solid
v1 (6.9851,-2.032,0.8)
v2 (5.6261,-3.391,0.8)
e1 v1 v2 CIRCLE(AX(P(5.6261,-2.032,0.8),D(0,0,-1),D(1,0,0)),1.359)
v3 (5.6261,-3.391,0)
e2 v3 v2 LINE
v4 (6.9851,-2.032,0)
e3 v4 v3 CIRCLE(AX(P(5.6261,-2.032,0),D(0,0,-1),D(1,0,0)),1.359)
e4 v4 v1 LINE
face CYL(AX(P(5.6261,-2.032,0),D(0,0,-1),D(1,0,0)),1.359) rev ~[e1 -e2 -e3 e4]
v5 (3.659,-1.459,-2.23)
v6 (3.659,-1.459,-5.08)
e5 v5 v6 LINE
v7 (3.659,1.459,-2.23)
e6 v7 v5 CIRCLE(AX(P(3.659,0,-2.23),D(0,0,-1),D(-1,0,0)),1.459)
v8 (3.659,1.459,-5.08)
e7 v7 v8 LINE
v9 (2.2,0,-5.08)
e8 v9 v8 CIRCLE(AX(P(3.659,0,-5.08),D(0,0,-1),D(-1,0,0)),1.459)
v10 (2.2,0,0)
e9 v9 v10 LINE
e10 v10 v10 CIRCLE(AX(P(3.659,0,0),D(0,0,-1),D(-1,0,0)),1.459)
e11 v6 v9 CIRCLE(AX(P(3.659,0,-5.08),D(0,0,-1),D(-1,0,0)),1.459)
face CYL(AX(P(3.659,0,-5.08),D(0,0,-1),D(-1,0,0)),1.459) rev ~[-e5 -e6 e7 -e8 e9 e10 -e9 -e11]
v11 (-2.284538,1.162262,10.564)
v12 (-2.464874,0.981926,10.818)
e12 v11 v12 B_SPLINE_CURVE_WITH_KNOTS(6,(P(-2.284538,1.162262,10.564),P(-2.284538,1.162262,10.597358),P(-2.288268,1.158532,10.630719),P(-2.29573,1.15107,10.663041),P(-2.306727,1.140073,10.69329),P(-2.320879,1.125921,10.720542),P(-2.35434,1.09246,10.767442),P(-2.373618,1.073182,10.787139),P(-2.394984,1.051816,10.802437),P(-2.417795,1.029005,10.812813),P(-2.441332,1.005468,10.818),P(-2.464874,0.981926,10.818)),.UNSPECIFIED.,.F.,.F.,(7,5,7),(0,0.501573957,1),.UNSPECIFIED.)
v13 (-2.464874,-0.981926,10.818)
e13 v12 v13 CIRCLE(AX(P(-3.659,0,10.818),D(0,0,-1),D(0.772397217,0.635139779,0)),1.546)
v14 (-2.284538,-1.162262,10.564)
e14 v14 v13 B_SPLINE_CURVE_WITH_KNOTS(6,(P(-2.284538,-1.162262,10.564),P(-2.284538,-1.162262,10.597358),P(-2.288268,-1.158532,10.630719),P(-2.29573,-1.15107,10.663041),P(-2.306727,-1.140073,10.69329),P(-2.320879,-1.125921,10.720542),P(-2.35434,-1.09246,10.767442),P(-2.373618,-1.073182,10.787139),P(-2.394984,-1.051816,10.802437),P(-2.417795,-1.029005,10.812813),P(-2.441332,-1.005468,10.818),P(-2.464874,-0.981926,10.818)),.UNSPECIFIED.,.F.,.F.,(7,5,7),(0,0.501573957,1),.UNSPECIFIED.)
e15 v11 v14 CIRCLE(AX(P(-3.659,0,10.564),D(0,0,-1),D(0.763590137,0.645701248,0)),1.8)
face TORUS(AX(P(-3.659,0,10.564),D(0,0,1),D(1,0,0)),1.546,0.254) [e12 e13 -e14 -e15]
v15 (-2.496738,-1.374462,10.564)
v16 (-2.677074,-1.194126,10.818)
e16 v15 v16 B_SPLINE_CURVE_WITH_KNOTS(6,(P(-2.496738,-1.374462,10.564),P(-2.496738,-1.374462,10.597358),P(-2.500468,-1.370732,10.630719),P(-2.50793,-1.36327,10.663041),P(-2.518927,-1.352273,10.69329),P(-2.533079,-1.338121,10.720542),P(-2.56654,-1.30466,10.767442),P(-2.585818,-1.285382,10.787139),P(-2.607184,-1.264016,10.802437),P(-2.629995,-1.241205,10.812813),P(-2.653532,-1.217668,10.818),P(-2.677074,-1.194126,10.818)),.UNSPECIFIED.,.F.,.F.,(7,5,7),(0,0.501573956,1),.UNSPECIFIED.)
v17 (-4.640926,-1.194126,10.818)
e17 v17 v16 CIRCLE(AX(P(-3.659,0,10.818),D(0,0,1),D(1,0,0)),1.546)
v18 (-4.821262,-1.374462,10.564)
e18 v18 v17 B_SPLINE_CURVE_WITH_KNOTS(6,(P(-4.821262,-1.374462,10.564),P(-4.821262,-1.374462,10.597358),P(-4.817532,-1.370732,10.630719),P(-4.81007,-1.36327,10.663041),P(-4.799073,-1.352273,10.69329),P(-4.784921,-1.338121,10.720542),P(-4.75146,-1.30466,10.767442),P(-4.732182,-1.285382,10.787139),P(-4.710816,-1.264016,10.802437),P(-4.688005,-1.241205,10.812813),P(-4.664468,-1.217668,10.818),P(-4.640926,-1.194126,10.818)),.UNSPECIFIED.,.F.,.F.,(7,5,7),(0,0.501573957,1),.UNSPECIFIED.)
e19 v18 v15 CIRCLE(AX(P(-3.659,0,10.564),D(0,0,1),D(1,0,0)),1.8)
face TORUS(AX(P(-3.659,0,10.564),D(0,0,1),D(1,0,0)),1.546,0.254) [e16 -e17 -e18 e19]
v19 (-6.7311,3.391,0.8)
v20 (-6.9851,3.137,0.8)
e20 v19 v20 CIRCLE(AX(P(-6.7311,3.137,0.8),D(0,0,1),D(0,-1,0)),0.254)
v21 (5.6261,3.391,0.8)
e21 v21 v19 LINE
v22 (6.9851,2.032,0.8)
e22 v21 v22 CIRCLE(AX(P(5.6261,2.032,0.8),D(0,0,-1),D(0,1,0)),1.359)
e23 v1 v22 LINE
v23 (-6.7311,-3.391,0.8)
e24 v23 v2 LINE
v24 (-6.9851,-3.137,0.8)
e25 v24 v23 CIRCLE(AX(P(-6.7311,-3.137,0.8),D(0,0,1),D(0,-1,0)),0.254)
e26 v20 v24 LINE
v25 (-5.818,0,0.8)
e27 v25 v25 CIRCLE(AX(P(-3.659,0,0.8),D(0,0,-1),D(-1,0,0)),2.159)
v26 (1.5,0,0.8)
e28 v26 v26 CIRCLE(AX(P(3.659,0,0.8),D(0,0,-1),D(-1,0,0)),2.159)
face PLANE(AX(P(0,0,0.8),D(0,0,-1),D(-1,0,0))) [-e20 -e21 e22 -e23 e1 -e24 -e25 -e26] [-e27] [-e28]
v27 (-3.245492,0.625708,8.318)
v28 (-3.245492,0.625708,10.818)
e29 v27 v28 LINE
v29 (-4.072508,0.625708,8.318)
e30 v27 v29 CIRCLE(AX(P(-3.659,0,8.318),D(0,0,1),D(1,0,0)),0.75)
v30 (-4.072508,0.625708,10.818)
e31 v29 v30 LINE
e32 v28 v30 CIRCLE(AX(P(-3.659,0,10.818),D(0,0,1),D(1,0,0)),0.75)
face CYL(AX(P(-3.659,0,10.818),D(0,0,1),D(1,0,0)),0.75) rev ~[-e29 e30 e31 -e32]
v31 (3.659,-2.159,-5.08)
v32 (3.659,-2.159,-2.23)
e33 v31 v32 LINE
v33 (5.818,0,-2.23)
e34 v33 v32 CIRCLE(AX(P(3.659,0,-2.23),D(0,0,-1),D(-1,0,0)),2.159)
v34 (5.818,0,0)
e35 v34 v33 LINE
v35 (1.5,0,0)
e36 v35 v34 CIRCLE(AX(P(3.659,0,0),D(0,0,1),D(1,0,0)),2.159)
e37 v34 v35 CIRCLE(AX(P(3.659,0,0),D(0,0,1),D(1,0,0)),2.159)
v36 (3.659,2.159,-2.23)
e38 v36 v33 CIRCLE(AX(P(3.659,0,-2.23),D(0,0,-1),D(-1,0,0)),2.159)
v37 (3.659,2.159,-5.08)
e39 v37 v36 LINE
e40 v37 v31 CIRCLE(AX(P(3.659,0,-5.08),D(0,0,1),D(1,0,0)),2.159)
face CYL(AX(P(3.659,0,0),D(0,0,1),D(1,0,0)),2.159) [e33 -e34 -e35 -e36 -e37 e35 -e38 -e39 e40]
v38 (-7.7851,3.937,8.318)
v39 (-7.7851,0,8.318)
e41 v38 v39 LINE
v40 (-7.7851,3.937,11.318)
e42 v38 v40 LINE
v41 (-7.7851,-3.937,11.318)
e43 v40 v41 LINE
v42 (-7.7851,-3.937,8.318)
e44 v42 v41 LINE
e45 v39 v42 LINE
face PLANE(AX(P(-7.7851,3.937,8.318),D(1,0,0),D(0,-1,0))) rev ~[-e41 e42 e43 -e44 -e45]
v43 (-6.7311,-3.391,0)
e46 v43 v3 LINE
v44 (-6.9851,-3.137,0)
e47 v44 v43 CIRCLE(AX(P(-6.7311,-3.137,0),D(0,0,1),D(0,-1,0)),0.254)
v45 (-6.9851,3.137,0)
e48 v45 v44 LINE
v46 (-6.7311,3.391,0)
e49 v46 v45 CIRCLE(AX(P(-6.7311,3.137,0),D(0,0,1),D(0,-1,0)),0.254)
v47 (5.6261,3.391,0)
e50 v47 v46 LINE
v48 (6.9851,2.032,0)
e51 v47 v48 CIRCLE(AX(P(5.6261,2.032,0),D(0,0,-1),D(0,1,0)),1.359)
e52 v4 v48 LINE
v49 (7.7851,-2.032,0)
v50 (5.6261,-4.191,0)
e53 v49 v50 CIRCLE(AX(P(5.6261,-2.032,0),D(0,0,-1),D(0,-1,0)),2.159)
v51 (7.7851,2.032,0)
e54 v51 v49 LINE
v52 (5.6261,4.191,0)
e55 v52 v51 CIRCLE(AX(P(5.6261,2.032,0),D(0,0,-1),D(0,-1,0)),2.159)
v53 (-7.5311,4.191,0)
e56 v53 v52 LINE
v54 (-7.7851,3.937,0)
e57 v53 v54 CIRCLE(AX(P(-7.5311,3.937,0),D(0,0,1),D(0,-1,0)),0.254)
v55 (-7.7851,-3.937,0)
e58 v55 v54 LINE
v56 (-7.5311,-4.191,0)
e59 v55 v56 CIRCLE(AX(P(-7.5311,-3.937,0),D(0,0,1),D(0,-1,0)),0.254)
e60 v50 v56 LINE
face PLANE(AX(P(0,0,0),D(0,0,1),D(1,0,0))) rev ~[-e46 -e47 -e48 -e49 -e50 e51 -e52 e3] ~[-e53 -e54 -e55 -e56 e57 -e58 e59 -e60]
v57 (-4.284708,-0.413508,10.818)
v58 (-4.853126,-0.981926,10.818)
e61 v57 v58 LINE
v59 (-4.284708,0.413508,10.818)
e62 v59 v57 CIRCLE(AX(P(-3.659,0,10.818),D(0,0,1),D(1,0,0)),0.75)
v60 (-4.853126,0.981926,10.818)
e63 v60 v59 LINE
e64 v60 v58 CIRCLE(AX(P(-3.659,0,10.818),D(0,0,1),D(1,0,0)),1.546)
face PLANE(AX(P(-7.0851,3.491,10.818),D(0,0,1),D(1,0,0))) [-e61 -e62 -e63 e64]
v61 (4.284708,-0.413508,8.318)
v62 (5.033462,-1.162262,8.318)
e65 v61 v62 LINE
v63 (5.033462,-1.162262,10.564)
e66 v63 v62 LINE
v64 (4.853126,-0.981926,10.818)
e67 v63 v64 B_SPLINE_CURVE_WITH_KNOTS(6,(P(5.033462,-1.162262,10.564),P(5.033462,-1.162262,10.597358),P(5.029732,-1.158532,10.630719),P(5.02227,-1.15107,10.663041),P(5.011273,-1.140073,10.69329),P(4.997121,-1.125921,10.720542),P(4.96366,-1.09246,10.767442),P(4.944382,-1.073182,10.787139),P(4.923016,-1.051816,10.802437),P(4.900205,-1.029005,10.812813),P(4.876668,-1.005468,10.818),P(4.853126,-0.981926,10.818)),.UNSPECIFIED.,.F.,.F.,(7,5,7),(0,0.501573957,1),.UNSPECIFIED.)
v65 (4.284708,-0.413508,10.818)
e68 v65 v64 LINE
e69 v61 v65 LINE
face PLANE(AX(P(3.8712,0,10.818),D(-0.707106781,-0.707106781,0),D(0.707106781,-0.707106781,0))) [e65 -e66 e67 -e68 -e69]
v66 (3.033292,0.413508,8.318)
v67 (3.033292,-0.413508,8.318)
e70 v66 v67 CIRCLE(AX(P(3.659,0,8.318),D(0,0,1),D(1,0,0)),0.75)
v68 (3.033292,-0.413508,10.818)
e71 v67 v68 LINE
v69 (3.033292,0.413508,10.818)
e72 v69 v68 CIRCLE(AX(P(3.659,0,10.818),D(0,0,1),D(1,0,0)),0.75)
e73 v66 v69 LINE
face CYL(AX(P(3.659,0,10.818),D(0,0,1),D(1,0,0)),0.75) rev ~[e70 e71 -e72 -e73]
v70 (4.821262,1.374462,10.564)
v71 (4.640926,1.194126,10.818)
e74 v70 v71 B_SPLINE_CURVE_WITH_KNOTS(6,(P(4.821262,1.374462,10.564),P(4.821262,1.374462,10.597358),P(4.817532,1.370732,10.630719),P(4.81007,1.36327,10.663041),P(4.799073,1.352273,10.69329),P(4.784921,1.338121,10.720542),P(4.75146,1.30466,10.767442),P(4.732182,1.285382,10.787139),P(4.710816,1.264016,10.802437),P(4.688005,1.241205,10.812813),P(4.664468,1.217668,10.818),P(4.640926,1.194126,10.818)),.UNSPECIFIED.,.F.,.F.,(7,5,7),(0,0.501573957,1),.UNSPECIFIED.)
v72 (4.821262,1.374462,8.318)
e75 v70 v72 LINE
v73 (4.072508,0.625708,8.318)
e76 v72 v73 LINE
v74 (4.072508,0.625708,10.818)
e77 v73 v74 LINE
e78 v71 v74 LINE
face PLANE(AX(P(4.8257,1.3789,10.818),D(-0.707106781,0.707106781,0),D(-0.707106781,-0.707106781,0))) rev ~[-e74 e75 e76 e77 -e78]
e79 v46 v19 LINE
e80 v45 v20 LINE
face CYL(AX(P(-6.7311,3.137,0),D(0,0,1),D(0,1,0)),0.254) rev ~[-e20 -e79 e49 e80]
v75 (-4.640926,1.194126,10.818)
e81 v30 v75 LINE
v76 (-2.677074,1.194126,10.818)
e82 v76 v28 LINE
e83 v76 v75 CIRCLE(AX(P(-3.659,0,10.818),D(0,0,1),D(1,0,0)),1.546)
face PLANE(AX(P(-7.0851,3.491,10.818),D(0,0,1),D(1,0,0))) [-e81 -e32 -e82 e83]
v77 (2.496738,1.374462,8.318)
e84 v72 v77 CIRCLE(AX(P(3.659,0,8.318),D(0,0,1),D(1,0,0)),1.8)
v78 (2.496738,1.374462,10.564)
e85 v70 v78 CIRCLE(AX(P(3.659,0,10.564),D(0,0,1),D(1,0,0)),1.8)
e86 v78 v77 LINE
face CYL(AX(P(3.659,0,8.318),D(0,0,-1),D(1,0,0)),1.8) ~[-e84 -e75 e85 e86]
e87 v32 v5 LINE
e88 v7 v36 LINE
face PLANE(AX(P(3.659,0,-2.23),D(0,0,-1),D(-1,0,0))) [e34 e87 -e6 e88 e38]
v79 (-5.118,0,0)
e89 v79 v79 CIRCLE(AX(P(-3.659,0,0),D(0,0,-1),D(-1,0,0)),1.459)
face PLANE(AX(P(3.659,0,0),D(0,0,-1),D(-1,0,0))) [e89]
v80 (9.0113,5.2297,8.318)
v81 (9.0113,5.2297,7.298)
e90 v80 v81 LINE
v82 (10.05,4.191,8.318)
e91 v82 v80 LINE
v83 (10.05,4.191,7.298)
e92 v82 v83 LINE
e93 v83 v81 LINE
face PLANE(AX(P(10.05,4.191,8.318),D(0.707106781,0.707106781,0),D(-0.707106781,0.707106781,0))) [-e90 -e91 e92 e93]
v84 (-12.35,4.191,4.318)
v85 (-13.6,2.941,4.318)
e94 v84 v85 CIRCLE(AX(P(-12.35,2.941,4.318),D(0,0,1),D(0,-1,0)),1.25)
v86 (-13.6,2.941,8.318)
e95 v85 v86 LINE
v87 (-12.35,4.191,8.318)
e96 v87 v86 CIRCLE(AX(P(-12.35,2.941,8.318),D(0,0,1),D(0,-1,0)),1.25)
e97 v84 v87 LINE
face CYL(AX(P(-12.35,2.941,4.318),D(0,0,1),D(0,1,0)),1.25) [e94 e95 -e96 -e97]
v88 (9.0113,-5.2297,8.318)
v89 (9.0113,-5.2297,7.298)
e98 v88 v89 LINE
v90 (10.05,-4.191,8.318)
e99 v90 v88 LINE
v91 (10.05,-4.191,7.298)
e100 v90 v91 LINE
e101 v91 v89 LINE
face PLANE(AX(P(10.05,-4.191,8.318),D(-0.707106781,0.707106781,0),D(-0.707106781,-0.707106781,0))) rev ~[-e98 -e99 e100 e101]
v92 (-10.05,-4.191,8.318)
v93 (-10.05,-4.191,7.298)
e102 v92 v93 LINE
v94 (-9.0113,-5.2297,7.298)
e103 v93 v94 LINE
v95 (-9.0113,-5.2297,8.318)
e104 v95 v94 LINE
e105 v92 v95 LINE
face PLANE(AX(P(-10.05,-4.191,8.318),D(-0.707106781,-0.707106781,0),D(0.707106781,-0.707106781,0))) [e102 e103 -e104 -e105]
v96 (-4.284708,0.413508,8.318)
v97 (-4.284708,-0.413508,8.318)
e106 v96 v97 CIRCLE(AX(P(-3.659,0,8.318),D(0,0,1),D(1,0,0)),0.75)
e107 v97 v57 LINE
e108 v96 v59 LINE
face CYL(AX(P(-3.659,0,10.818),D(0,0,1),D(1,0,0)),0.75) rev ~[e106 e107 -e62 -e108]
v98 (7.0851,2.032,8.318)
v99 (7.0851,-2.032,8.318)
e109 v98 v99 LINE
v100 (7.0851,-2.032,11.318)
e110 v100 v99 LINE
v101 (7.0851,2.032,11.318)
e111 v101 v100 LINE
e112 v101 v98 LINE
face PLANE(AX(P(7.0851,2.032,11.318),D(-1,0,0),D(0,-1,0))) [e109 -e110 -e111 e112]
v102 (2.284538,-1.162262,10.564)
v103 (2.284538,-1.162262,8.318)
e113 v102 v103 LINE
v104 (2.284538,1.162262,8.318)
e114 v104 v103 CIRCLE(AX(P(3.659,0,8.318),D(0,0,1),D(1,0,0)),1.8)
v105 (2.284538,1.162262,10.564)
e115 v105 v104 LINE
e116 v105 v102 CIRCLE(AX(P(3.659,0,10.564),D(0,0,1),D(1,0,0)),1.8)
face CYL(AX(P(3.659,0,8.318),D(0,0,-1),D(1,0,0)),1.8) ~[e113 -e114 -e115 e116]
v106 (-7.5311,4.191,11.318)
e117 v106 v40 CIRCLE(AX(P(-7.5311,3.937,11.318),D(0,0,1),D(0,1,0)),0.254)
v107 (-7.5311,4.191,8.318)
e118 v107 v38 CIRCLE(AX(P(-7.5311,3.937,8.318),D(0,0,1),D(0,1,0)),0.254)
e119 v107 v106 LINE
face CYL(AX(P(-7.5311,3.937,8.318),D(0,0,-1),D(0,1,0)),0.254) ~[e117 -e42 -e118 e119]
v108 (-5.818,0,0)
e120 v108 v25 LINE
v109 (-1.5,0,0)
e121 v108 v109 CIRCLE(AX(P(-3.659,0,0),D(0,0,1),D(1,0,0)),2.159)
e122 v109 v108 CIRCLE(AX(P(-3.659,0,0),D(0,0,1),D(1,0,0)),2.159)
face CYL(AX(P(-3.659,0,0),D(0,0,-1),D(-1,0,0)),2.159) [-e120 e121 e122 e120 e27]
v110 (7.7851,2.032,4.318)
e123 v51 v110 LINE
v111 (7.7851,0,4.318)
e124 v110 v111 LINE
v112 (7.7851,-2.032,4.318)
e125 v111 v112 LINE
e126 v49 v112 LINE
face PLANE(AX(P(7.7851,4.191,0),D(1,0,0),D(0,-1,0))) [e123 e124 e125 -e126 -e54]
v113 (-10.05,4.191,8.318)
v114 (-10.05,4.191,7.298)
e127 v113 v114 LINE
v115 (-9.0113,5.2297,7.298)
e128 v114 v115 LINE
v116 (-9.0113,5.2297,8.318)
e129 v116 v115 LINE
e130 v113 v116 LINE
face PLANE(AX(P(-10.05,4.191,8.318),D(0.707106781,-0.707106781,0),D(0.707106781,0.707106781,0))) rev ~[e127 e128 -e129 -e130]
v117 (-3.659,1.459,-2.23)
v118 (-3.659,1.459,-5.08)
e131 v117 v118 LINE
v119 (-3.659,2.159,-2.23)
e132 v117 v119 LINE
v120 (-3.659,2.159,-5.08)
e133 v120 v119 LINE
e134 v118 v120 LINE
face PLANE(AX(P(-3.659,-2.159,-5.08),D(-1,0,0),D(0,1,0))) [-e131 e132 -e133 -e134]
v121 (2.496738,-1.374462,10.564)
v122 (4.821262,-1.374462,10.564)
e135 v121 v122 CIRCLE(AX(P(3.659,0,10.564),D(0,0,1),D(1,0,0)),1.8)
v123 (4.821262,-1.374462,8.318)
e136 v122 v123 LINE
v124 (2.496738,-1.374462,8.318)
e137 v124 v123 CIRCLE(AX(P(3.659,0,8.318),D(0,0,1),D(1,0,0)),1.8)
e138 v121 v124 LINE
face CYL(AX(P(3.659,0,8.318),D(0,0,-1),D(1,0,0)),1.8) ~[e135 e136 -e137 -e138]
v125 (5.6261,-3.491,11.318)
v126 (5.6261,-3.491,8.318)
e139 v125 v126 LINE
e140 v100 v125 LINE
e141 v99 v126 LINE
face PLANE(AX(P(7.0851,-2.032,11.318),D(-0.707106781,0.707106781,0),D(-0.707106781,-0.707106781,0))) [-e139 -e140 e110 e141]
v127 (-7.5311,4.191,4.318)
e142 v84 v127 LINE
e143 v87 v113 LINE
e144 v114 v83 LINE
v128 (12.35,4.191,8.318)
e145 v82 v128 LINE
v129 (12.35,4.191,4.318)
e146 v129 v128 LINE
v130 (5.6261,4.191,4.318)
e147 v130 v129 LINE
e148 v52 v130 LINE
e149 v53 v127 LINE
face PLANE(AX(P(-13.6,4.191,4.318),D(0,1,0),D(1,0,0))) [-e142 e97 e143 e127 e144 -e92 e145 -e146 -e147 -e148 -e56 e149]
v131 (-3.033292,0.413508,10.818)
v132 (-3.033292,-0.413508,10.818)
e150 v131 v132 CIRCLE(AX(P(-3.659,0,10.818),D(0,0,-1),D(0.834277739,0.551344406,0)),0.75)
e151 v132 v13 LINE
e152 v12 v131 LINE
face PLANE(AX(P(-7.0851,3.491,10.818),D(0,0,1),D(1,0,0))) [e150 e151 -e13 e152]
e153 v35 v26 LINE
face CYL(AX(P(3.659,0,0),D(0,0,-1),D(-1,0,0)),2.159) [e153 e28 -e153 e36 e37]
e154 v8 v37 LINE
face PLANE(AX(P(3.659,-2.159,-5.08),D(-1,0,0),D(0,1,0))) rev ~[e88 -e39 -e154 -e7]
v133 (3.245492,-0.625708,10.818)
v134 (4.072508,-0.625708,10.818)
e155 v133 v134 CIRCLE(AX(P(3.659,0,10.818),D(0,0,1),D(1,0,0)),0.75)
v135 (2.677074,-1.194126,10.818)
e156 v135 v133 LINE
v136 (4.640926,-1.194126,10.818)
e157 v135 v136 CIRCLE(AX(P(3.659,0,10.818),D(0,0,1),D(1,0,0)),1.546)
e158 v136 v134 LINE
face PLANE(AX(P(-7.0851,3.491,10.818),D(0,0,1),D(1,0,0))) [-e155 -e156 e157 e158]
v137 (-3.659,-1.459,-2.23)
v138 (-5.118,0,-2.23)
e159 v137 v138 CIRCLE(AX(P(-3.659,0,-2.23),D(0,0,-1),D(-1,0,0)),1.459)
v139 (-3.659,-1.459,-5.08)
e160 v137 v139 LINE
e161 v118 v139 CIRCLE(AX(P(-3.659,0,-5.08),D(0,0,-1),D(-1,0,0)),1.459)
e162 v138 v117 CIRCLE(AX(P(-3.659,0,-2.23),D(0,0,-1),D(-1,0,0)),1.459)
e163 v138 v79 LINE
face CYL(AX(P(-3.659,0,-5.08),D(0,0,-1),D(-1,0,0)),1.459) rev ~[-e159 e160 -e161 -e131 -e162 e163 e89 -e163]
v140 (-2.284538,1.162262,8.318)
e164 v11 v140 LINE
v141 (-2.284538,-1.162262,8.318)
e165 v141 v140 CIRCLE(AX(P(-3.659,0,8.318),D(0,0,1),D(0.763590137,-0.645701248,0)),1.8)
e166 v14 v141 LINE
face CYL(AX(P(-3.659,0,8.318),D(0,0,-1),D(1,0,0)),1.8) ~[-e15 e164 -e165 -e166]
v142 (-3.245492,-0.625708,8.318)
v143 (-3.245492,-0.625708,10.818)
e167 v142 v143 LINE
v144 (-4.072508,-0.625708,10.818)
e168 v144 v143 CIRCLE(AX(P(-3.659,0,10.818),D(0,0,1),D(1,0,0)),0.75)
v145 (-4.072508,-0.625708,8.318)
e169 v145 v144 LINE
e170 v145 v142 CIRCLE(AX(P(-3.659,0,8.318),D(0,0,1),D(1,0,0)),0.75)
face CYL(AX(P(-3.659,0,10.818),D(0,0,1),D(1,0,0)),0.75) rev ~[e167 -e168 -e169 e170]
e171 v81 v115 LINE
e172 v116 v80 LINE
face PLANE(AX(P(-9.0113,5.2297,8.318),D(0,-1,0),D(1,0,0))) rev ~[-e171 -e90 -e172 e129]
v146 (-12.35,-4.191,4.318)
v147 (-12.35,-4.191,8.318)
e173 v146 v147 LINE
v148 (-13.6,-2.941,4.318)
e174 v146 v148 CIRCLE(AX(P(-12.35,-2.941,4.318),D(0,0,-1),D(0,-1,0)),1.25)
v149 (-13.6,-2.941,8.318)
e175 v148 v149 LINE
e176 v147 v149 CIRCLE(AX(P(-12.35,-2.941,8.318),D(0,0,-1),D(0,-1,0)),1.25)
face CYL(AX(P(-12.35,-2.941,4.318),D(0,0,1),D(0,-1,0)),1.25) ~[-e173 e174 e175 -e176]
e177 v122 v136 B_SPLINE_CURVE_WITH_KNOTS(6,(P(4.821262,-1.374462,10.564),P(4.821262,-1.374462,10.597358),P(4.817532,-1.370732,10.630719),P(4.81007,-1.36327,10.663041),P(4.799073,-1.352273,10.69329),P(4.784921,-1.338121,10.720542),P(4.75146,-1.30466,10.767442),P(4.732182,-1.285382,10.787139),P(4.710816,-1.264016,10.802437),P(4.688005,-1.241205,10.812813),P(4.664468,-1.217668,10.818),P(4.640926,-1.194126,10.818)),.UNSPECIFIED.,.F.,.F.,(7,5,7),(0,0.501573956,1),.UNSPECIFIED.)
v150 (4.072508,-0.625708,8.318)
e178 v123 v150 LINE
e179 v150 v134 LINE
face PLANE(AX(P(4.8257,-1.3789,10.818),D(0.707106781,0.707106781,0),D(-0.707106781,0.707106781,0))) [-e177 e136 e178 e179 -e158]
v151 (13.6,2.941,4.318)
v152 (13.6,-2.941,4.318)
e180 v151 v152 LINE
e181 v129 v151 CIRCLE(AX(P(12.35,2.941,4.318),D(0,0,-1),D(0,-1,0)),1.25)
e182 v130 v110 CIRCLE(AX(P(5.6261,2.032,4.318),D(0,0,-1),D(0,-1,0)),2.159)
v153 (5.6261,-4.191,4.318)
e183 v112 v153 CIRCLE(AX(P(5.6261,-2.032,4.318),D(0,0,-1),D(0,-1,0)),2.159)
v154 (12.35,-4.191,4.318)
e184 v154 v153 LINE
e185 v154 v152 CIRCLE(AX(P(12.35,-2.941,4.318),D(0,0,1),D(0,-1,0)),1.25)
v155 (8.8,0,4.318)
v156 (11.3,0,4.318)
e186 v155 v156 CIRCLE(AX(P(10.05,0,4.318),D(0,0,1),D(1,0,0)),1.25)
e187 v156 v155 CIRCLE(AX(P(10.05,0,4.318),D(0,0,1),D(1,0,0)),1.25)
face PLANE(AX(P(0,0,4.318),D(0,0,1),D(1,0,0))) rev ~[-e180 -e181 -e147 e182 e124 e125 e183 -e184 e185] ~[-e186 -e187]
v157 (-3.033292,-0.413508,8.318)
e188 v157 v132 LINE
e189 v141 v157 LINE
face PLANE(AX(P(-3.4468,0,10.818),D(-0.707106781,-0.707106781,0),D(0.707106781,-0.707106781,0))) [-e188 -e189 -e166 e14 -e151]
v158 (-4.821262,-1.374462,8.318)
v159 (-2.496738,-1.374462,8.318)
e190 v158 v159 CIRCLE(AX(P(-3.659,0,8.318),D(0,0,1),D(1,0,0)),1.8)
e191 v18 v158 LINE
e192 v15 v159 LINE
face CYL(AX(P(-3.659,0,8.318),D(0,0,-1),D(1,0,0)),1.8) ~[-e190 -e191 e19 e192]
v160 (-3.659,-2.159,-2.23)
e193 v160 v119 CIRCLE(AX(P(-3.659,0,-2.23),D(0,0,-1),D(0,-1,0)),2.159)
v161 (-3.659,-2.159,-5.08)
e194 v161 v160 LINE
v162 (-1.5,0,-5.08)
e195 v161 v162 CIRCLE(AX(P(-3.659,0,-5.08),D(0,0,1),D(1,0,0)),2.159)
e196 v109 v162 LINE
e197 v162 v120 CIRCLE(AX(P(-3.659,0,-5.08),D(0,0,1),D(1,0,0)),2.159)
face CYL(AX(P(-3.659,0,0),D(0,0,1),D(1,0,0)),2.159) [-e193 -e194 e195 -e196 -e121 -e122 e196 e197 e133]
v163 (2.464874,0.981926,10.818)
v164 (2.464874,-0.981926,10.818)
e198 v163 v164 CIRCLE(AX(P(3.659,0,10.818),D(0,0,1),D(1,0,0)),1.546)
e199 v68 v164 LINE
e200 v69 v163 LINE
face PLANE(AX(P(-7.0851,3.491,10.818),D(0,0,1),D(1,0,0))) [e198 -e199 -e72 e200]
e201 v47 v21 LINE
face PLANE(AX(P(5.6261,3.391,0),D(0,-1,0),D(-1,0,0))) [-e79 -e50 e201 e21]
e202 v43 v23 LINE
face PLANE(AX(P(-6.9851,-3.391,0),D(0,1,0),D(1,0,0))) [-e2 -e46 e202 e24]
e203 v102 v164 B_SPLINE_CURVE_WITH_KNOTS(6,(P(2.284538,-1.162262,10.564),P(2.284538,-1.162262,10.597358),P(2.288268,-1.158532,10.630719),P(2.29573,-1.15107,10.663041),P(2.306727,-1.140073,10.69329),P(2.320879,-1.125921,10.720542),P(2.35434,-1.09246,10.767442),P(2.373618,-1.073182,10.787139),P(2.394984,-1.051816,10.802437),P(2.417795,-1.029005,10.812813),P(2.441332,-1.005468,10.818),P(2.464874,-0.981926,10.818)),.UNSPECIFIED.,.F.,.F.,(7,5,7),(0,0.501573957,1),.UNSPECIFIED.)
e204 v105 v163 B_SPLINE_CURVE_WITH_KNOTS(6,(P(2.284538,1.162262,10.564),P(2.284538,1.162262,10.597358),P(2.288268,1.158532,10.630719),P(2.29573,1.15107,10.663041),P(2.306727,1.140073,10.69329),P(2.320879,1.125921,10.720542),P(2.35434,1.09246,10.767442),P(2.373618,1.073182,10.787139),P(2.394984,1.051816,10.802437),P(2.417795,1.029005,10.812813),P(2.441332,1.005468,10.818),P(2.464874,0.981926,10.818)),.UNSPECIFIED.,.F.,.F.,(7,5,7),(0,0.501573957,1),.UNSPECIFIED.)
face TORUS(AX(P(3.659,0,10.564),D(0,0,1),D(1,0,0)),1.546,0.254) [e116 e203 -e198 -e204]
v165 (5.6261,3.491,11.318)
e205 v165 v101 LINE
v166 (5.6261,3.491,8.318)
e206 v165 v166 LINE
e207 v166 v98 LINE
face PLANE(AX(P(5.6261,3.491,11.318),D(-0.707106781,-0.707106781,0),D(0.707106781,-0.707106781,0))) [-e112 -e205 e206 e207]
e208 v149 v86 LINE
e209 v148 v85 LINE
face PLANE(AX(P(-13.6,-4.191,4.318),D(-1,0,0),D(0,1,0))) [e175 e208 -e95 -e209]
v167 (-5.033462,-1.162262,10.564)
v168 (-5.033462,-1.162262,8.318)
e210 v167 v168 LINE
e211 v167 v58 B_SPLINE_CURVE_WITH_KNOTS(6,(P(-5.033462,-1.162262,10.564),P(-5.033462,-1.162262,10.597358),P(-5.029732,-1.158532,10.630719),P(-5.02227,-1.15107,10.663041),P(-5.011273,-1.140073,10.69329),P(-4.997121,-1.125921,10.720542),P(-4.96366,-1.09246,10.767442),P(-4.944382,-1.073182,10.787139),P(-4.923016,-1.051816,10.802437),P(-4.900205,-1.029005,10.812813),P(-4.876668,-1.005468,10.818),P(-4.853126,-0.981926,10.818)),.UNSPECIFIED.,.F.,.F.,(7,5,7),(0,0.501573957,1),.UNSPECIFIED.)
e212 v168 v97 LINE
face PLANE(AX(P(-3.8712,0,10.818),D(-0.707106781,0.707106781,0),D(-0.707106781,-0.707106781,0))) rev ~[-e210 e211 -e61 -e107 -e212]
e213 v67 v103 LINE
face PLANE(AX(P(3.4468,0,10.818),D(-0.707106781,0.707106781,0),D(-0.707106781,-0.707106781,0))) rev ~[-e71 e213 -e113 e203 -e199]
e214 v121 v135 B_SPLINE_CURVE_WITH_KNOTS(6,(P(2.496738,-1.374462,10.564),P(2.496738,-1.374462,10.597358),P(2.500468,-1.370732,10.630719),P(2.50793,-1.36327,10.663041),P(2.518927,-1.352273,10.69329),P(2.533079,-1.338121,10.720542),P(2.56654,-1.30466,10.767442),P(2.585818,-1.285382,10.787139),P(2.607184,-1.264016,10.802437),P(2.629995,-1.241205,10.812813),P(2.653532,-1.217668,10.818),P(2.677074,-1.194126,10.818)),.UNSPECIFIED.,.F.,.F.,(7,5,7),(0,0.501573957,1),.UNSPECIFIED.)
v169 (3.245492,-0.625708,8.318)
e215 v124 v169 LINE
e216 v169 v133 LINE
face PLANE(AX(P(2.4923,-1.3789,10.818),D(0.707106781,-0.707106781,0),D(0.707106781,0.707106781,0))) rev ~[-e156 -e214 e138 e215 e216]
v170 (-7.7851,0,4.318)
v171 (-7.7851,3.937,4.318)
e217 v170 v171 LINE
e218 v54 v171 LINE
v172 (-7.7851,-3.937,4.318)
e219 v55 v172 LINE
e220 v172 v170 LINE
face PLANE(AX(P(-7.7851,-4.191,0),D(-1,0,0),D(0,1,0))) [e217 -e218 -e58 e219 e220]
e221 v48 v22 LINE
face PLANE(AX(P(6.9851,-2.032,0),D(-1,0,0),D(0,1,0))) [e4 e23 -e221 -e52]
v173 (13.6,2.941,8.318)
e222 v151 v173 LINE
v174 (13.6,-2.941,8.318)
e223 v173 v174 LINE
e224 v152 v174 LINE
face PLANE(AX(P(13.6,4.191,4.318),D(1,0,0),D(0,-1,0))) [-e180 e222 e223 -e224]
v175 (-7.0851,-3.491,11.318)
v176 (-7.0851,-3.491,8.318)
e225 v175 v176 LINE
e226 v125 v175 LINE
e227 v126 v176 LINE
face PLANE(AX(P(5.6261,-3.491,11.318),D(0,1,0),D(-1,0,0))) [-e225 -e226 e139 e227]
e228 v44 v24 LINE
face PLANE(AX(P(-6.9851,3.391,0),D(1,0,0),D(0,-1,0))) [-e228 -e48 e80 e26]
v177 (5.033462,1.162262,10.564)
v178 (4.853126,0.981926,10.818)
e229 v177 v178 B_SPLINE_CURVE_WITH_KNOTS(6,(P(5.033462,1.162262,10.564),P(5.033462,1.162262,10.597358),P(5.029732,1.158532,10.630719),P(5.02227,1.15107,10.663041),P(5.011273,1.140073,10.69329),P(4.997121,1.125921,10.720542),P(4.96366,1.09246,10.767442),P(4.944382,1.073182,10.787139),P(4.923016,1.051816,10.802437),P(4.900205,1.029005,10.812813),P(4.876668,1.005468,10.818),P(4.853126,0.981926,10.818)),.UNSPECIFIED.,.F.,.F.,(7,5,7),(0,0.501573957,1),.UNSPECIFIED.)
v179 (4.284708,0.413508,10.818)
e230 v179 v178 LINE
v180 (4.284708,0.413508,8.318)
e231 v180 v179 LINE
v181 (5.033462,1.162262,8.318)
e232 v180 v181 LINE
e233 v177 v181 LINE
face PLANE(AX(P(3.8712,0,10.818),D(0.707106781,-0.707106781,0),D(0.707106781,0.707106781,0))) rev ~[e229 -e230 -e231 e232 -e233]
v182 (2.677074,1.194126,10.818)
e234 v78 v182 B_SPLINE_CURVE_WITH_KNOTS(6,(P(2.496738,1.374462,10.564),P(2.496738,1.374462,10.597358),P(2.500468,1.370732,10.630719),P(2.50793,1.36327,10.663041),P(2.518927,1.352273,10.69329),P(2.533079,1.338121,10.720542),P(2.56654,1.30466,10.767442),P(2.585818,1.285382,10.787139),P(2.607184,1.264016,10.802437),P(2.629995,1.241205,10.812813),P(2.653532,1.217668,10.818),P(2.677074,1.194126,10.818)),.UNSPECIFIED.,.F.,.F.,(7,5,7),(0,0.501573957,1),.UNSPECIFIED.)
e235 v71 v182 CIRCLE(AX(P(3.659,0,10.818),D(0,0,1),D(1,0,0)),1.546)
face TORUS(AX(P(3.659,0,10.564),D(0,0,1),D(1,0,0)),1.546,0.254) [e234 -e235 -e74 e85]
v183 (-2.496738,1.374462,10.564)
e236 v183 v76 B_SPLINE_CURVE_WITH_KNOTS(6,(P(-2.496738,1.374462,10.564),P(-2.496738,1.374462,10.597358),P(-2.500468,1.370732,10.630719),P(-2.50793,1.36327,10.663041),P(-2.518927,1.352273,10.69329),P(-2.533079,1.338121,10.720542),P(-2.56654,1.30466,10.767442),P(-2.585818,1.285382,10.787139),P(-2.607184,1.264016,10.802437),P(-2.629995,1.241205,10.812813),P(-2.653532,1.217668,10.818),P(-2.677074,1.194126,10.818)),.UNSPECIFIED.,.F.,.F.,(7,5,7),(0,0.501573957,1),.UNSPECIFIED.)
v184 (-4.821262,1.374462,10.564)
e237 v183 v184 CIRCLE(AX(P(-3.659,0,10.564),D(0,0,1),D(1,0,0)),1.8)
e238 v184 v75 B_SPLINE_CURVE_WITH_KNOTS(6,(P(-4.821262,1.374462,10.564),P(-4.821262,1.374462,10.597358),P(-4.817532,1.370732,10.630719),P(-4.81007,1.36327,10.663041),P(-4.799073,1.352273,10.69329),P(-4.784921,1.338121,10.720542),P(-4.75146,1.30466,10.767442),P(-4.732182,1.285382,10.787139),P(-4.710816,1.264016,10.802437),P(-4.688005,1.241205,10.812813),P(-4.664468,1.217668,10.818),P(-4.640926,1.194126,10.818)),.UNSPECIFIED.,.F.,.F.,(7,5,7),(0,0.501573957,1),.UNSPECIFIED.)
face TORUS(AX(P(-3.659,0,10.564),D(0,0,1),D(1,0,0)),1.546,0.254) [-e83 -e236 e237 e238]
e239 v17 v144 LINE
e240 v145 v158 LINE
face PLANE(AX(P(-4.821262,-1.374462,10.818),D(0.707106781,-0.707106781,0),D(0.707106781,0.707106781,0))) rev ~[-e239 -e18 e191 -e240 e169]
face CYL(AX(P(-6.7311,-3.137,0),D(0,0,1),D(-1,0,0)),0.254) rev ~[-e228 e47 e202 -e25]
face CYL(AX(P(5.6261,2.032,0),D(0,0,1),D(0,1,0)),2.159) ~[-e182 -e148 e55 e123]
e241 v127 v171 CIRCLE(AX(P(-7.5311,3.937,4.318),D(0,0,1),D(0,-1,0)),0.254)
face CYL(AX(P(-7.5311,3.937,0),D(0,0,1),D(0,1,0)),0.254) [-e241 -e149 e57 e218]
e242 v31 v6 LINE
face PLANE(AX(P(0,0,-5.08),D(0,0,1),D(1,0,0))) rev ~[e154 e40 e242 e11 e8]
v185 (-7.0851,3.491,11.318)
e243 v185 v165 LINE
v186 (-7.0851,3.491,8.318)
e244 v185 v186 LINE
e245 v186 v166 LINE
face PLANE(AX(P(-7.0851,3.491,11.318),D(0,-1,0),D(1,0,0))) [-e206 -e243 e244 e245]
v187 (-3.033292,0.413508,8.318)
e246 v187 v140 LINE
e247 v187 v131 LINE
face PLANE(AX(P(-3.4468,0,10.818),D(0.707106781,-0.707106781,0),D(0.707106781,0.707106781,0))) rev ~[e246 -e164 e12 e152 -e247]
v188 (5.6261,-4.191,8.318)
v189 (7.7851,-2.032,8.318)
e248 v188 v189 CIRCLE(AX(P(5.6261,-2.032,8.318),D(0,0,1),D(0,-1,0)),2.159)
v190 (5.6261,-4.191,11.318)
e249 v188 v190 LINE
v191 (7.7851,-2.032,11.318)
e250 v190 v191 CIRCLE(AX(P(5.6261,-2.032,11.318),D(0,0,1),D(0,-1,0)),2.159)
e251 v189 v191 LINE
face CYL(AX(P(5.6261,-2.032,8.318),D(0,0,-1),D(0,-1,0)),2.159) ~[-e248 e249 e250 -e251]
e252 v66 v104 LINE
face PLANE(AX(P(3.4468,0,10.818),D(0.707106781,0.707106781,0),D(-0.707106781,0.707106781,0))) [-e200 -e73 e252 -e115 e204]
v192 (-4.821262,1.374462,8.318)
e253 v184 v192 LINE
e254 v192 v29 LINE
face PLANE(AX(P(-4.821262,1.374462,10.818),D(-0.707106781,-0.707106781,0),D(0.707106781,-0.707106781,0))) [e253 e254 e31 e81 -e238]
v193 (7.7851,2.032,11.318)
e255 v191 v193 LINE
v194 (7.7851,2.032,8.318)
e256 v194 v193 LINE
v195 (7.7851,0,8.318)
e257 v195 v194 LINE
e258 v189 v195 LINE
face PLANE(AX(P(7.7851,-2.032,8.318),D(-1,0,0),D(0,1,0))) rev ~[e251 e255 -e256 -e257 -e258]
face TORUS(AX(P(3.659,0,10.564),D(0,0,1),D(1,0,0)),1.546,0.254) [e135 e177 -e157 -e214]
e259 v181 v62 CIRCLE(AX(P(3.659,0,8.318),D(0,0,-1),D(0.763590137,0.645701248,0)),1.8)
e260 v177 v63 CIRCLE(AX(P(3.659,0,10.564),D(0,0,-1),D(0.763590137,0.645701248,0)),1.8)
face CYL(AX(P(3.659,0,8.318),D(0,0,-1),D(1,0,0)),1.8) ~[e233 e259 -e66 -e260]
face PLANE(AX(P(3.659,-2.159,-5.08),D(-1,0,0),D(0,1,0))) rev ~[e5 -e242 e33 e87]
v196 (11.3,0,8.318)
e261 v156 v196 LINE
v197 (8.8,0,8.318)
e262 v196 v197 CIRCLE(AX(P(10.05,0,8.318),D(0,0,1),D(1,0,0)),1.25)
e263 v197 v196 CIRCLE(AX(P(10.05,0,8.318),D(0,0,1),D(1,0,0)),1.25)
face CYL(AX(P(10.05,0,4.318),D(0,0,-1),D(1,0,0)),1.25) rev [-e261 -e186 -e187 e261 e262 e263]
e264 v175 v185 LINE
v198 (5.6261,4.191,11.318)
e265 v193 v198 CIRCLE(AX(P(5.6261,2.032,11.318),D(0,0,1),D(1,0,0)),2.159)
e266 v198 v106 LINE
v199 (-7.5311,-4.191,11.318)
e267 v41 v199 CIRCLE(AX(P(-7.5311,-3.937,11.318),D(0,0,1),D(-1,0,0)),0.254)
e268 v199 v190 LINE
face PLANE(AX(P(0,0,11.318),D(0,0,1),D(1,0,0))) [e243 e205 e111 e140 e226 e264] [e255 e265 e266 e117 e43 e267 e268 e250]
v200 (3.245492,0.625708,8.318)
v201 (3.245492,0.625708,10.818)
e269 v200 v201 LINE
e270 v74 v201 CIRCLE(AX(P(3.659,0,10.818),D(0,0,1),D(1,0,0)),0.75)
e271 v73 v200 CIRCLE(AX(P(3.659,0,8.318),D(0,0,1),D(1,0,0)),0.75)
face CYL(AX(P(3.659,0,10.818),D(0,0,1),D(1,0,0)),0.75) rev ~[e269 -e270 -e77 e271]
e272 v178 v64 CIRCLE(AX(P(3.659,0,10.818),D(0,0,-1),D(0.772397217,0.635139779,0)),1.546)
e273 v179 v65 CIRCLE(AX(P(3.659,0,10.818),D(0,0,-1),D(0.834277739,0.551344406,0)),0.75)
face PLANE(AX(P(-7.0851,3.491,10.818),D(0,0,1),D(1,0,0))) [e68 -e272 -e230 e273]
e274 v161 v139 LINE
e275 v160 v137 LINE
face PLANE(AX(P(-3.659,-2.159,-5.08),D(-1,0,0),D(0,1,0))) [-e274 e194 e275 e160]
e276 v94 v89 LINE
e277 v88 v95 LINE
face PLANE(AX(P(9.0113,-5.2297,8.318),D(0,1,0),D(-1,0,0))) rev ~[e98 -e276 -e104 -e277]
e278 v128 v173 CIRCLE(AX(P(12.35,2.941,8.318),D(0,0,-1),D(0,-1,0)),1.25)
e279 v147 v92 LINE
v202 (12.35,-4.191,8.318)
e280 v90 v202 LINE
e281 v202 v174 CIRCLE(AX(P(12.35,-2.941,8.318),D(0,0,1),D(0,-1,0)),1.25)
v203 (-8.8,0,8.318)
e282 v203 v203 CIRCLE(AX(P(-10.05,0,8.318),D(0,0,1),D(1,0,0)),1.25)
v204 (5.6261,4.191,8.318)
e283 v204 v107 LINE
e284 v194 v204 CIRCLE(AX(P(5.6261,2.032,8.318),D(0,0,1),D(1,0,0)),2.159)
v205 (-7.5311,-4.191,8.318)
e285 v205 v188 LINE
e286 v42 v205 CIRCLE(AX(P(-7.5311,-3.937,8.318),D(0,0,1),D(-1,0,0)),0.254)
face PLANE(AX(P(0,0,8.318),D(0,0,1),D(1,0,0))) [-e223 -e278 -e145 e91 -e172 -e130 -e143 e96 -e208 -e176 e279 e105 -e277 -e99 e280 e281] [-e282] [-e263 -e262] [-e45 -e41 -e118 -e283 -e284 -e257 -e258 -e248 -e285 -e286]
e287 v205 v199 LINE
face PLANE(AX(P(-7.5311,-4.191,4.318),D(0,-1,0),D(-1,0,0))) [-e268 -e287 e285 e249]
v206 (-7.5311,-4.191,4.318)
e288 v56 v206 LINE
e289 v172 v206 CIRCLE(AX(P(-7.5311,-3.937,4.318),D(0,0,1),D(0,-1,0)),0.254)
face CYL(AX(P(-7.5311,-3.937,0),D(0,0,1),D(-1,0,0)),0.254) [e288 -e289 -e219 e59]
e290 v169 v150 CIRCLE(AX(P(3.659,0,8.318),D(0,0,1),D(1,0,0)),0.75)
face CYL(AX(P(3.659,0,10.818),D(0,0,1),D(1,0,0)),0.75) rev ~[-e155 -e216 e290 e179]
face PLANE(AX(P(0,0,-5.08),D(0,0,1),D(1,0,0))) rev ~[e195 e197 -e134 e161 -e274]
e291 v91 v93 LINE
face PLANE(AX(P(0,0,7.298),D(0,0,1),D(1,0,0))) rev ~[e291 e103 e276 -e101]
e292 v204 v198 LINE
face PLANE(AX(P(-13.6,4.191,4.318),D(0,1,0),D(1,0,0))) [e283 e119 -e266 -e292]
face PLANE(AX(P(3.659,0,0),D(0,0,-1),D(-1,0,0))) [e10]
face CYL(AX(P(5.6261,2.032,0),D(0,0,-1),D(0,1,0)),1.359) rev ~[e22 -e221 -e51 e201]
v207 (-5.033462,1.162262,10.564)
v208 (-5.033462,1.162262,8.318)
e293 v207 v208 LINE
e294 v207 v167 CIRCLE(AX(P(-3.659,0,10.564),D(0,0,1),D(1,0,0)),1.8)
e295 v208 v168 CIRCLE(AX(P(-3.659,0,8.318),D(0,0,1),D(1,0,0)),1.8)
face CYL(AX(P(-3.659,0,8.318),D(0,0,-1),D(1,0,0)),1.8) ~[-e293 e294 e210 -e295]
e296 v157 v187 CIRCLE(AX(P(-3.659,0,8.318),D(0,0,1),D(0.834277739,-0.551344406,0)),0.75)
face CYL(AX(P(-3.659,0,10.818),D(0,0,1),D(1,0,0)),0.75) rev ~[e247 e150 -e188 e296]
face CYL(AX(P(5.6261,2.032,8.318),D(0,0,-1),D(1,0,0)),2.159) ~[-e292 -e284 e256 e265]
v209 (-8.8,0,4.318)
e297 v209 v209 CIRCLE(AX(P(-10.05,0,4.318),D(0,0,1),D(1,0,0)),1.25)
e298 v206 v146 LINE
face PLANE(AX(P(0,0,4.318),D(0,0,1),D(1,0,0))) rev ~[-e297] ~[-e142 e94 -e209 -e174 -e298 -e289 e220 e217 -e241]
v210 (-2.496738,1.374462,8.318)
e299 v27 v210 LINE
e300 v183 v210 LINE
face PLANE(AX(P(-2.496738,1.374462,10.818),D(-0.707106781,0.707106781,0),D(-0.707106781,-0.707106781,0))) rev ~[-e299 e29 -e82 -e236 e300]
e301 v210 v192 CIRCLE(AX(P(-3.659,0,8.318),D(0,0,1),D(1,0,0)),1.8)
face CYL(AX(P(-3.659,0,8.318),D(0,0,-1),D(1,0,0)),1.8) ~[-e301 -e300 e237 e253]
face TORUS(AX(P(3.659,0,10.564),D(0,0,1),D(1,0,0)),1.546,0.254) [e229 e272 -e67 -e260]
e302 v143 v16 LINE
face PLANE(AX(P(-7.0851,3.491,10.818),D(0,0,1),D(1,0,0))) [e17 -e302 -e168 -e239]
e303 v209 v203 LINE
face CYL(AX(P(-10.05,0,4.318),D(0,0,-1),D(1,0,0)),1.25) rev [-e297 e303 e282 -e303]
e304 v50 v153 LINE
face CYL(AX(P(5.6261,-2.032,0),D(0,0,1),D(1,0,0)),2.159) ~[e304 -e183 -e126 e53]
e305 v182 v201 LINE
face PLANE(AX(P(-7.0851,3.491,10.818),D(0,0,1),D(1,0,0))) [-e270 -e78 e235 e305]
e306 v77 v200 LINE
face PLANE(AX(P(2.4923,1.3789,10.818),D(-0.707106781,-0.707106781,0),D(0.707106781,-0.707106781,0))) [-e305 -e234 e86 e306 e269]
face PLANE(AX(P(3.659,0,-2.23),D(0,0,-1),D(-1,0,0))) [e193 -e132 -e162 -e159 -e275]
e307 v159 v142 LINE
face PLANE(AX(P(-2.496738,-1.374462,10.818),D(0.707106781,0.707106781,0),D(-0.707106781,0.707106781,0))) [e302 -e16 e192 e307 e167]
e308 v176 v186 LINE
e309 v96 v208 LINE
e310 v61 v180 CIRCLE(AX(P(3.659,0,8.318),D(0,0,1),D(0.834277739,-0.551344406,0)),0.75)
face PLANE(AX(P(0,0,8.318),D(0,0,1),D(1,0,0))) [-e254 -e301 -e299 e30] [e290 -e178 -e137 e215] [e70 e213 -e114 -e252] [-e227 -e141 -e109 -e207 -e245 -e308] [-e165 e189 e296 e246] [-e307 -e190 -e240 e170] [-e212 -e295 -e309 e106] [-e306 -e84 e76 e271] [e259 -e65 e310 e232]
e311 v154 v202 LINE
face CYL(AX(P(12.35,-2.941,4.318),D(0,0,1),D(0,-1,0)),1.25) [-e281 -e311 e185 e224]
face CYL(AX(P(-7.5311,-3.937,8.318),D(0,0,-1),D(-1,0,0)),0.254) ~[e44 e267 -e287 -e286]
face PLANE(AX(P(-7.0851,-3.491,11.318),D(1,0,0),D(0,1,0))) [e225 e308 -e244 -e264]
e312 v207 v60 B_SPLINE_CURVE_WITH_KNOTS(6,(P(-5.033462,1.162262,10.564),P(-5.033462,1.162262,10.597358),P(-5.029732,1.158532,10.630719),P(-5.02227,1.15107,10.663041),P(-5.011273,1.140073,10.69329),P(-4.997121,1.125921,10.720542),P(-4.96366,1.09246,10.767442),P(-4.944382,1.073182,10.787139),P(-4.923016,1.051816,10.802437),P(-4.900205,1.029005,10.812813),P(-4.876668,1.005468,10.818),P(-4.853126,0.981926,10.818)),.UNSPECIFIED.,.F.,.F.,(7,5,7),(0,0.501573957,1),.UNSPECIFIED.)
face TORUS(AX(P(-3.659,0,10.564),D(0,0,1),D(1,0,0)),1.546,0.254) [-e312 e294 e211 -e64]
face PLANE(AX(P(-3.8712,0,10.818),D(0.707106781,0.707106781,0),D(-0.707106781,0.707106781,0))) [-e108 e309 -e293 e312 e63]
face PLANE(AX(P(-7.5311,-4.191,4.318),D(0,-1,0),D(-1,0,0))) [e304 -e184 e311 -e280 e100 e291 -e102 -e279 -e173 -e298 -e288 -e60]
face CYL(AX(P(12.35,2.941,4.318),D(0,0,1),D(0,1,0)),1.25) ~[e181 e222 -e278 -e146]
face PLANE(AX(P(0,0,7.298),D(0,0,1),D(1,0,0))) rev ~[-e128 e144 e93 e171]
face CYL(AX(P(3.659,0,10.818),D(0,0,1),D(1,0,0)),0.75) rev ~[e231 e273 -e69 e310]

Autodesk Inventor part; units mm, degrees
ref_plane "YZ Plane" through (0, 0, 0) normal (1, 0, 0) x (0, 1, 0)
ref_plane "XZ Plane" through (0, 0, 0) normal (0, 1, 0) x (-1, 0, 0)
ref_plane "XY Plane" through (0, 0, 0) normal (0, 0, 1) x (1, 0, 0)
sketch "Footprint" plane through (0, 0, 0) normal (0, 0, 1) x (1, 0, 0)
  circle A0 centre (-3.659, 0) radius 2.159
  circle A1 centre (3.659, 0) radius 2.159
  line L0 (-3.659, 0) -> (3.659, 0) construction
  line L1 (-1.5, 0) -> (1.5, 0) construction
  line L2 (-7.7851, 4.191) -> (7.7851, 4.191)
  line L3 (7.7851, 4.191) -> (7.7851, -4.191)
  line L4 (7.7851, -4.191) -> (-7.7851, -4.191)
  line L5 (-7.7851, -4.191) -> (-7.7851, 4.191)
  line L6 (-10.8991, 0) -> (10.8991, 0) construction
  line L7 (0, -5.8674) -> (0, 5.8674) construction
  point P0 (0, 0)
  point P1 (0, 0)
  point P2 (-7.7851, 0)
  point P3 (0, 4.191)
  dimension "d1" = 4.318
  dimension "d0" = 7.318
  dimension "d2" = 3
  dimension "d3" = 8.382
  dimension "d4" = 15.5702
extrude "MountFeature" add sketch "Footprint" against normal blind 5.08 contours A0 | A1
extrude "Extrusion2" add sketch "Footprint" along normal blind 4.318 contours A0 | A1 | L2 L3 L4 L5
fillet "Fillet1" radius 2.159 2 edges at (7.7851, 4.191, 2.159) (7.7851, -4.191, 2.159)
fillet "Fillet2" radius 0.254 2 edges at (-7.7851, -4.191, 2.159) (-7.7851, 4.191, 2.159)
sketch "Sketch3" plane through (0, 0, 4.318) normal (0, 0, 1) x (1, 0, 0)
  line L0 (-13.6, 4.191) -> (13.6, 4.191)
  line L1 (13.6, 4.191) -> (13.6, -4.191)
  line L2 (13.6, -4.191) -> (-13.6, -4.191)
  line L3 (-13.6, -4.191) -> (-13.6, 4.191)
  line L4 (-25.1784, 0) -> (27.2051, 0) construction
  line L5 (0, -15.4188) -> (0, 16.666) construction
  line L6 (5.6261, 4.191) -> (-7.5311, 4.191) projected
  line L7 (-7.5311, -4.191) -> (5.6261, -4.191) projected
  circle A0 centre (10.05, 0) radius 1.25
  line L8 (13.6, 0) -> (11.3, 0) construction
  circle A1 centre (-10.05, 0) radius 1.25
  line L9 (-8.8, 0) -> (8.8, 0)
  point P0 (0, 0)
  point P1 (0, 4.191)
  point P2 (13.6, 0)
  dimension "d11" = 27.2
  dimension "d12" = 2.5
  dimension "d13" = 2.3
  dimension "d15" = 17.6
extrude "Extrusion3" add sketch "Sketch3" along normal blind 4
sketch "Sketch4" plane through (0, 0, 8.318) normal (0, 0, 1) x (1, 0, 0)
  circle A0 centre (3.659, 0) radius 2.159 projected
  circle A1 centre (-3.659, 0) radius 2.159 projected
  arc A2 (-7.5311, 4.191) -> (-7.7851, 3.937) centre (-7.5311, 3.937) ccw projected
  line L0 (5.6261, 4.191) -> (-7.5311, 4.191) projected
  arc A3 (7.7851, 2.032) -> (5.6261, 4.191) centre (5.6261, 2.032) ccw projected
  line L1 (7.7851, -2.032) -> (7.7851, 2.032) projected
  arc A4 (5.6261, -4.191) -> (7.7851, -2.032) centre (5.6261, -2.032) ccw projected
  line L2 (-7.5311, -4.191) -> (5.6261, -4.191) projected
  arc A5 (-7.7851, -3.937) -> (-7.5311, -4.191) centre (-7.5311, -3.937) ccw projected
  line L3 (-7.7851, 3.937) -> (-7.7851, -3.937) projected
  point P0 (0, 0)
extrude "Extrusion4" add sketch "Sketch4" along normal blind 3 contours A0 | A1 | L0 A3 L1 A4 L2 A5 L3 A2
sketch "Sketch5" plane through (0, 0, 11.318) normal (0, 0, 1) x (1, 0, 0)
  line L0 (-7.7851, 3.937) -> (-7.7851, -3.937) projected
  arc A0 (-7.7851, -3.937) -> (-7.5311, -4.191) centre (-7.5311, -3.937) ccw projected
  line L1 (-7.5311, -4.191) -> (5.6261, -4.191) projected
  arc A1 (5.6261, -4.191) -> (7.7851, -2.032) centre (5.6261, -2.032) ccw projected
  line L2 (7.7851, -2.032) -> (7.7851, 2.032) projected
  arc A2 (7.7851, 2.032) -> (5.6261, 4.191) centre (5.6261, 2.032) ccw projected
  line L3 (5.6261, 4.191) -> (-7.5311, 4.191) projected
  arc A3 (-7.5311, 4.191) -> (-7.7851, 3.937) centre (-7.5311, 3.937) ccw projected
  line L4 (-7.0851, 3.491) -> (5.6261, 3.491)
  arc A4 (7.0851, 2.032) -> (5.6261, 3.491) centre (5.6261, 2.032) ccw
  line L5 (7.0851, 2.032) -> (7.0851, -2.032)
  arc A5 (5.6261, -3.491) -> (7.0851, -2.032) centre (5.6261, -2.032) ccw
  line L6 (5.6261, -3.491) -> (-7.0851, -3.491)
  line L7 (-7.0851, -3.491) -> (-7.0851, 3.491)
  point P0 (0, 0)
  dimension "d20" = 0.7
extrude "Extrusion5" cut sketch "Sketch5" against normal up to surface (3 mm away) contours L4 A4 L5 A5 L6 L7
sketch "Sketch6" plane through (-7.0851, 3.491, 8.318) normal (0, 0, 1) x (1, 0, 0)
  circle A0 centre (3.4261, -3.491) radius 2.159 construction
  circle A1 centre (10.7441, -3.491) radius 2.159 construction
  circle A2 centre (3.4261, -3.491) radius 1.8
  circle A3 centre (10.7441, -3.491) radius 1.8
  point P0 (7.0851, -3.491)
  dimension "d23" = 3.6
extrude "Extrusion6" add sketch "Sketch6" along normal blind 2.5
sketch "Sketch7" plane through (-3.659, 0, 10.818) normal (0, 0, 1) x (1, 0, 0)
  circle A0 centre (0, 0) radius 1.8 construction
  circle A1 centre (7.318, 0) radius 1.8 construction
  circle A2 centre (0, 0) radius 0.75
  circle A3 centre (7.318, 0) radius 0.75
  point P0 (3.659, 0)
  dimension "d26" = 1.5
  dimension "d27" = 1.5
extrude "Extrusion7" cut sketch "Sketch7" against normal up to surface (2.5 mm away)
fillet "Fillet3" radius 0.254 2 edges at (-5.459, 0, 10.818) (1.859, 0, 10.818)
sketch "Sketch8" plane through (3.659, 0, 10.818) normal (0, 0, 1) x (1, 0, 0)
  circle A0 centre (-7.318, 0) radius 1.8 construction
  circle A1 centre (-7.318, 0) radius 0.75 construction
  line L0 (-3.659, -5.8674) -> (-3.659, 5.8674) construction
  line L1 (-8.5908, -1.2728) -> (-6.0452, 1.2728) construction
  circle A2 centre (-7.318, 0) radius 1.8 projected
  line L2 (-8.4847, -1.3789) -> (-5.9391, 1.1667)
  line L3 (-6.1513, 1.3789) -> (-8.6969, -1.1667)
  arc A3 (-8.6969, -1.1667) -> (-8.4847, -1.3789) centre (-8.5908, -1.2728) ccw
  arc A4 (-5.9391, 1.1667) -> (-6.1513, 1.3789) centre (-6.0452, 1.2728) ccw
  line L4 (-7.318, 0) -> (-7.318, 1.8) construction
  line L5 (-6.1513, -1.3789) -> (-8.6969, 1.1667)
  line L6 (-8.4847, 1.3789) -> (-5.9391, -1.1667)
  arc A5 (-6.1513, -1.3789) -> (-5.9391, -1.1667) centre (-6.0452, -1.2728) ccw
  arc A6 (-8.4847, 1.3789) -> (-8.6969, 1.1667) centre (-8.5908, 1.2728) ccw
  line L7 (1.1667, -1.3789) -> (-1.3789, 1.1667)
  line L8 (-1.1667, 1.3789) -> (1.3789, -1.1667)
  arc A7 (1.1667, -1.3789) -> (1.3789, -1.1667) centre (1.2728, -1.2728) ccw
  arc A8 (-1.1667, 1.3789) -> (-1.3789, 1.1667) centre (-1.2728, 1.2728) ccw
  line L9 (1.1667, 1.3789) -> (-1.3789, -1.1667)
  arc A9 (1.3789, 1.1667) -> (1.1667, 1.3789) centre (1.2728, 1.2728) ccw
  line L10 (-1.1667, -1.3789) -> (1.3789, 1.1667)
  arc A10 (-1.3789, -1.1667) -> (-1.1667, -1.3789) centre (-1.2728, -1.2728) ccw
  point P0 (-3.659, 0)
  point P1 (0, -0.2121)
  point P2 (0.2121, 0)
  point P3 (0, 0.2121)
  point P4 (-0.2121, 0)
  point P5 (-7.1059, 0)
  point P6 (-7.318, 0.2121)
  point P7 (-7.5301, 0)
  point P8 (-7.318, -0.2121)
  dimension "d31" = 0.3
  dimension "d32" = 45
extrude "Extrusion8" cut sketch "Sketch8" against normal up to surface (2.5 mm away) contours L2 L6 L3 A2 | A2 L3 A4 L2 | L6 A5 L5 A2 | A2 L5 L2 L6 | L2 L5 L3 L6 | L6 L3 L5 A2 | A2 L5 A6 L6 | L2 A2 L3 L5 | L2 A3 L3 A2 | L7 L10 L8 A7 | L10 A10 L9 L7 | L7 L9 L8 L10 | L7 A8 L8 L9 | L8 L9 A9 L10
fillet "Fillet4" radius 1.25 4 edges at (13.6, -4.191, 6.318) (13.6, 4.191, 6.318) (-13.6, -4.191, 6.318) (-13.6, 4.191, 6.318)
sketch "Sketch9" plane through (0, 0, 11.318) normal (0, 0, 1) x (1, 0, 0)
  arc A0 (7.0851, 2.032) -> (5.6261, 3.491) centre (5.6261, 2.032) ccw projected
  arc A1 (5.6261, -3.491) -> (7.0851, -2.032) centre (5.6261, -2.032) ccw projected
  line L0 (-7.0851, 3.491) -> (5.6261, 3.491) projected
  line L1 (5.6261, 3.491) -> (7.0851, 2.032)
  line L2 (7.0851, 2.032) -> (7.0851, -2.032) projected
  arc A2 (5.6261, -3.491) -> (7.0851, -2.032) centre (5.6261, -2.032) ccw projected
  line L3 (7.0851, -2.032) -> (5.6261, -3.491)
  point P0 (0, 0)
extrude "Extrusion9" add sketch "Sketch9" against normal up to surface (3 mm away)
sketch "Sketch10" plane through (0, 0, 8.318) normal (0, 0, 1) x (1, 0, 0)
  circle A0 centre (-10.05, 0) radius 1.25 construction
  circle A1 centre (10.05, 0) radius 1.25 construction
  line L0 (-10.05, 0) -> (-10.05, 4.191) construction
  line L1 (-7.5311, 4.191) -> (-12.35, 4.191) construction
  line L2 (10.05, 0) -> (10.05, 4.191) construction
  line L3 (12.35, 4.191) -> (5.6261, 4.191) construction
  line L4 (10.05, 4.191) -> (0, 4.191)
  line L5 (5.6261, 4.191) -> (-7.5311, 4.191) projected
  line L6 (10.05, 4.191) -> (9.0113, 5.2297)
  line L7 (9.0113, 5.2297) -> (0, 5.2297)
  line L8 (0, 5.2297) -> (0, 4.191) construction
  line L9 (5.6261, 3.491) -> (7.0851, 2.032) projected
  line L10 (-10.05, 4.191) -> (0, 4.191)
  line L11 (-10.05, 4.191) -> (-9.0113, 5.2297)
  line L12 (-9.0113, 5.2297) -> (0, 5.2297)
  line L13 (-19.04, 0) -> (19.04, 0) construction
  line L14 (10.05, -4.191) -> (0, -4.191)
  line L15 (10.05, -4.191) -> (9.0113, -5.2297)
  line L16 (9.0113, -5.2297) -> (0, -5.2297)
  line L17 (-9.0113, -5.2297) -> (0, -5.2297)
  line L18 (-10.05, -4.191) -> (-9.0113, -5.2297)
  line L19 (-10.05, -4.191) -> (0, -4.191)
  point P0 (0, 0)
extrude "Extrusion10" add sketch "Sketch10" against normal blind 1.02
sketch "Sketch11" plane through (3.659, 0, -5.08) normal (0, 0, -1) x (-1, 0, 0)
  circle A0 centre (0, 0) radius 2.159 projected
  circle A1 centre (0, 0) radius 1.459
  circle A2 centre (7.318, 0) radius 2.159 projected
  circle A3 centre (7.318, 0) radius 1.459
  point P0 (3.659, 0)
  dimension "d40" = 0.7
  dimension "d41" = 0.7
extrude "Extrusion11" cut sketch "Sketch11" against normal up to surface (5.08 mm away) contours A1 | A3
sketch "Sketch12" plane through (3.659, 0, -5.08) normal (0, 0, -1) x (-1, 0, 0)
  circle A0 centre (0, 0) radius 2.159 projected
  line L0 (0, -2.159) -> (0, 2.159)
  circle A1 centre (7.318, 0) radius 2.159 projected
  line L1 (7.318, -2.159) -> (7.318, 2.159)
  point P0 (3.659, 0)
extrude "Extrusion12" cut sketch "Sketch12" against normal blind 2.85 contours L0 A0 | A1 L1 picked at (-0.5923, -0.4088) picked at (7.7667, 0.5627)
sketch "Sketch13" plane through (0, 0, 0) normal (0, 0, -1) x (-1, 0, 0)
  circle A0 centre (-3.659, 0) radius 2.159 projected
  circle A1 centre (3.659, 0) radius 2.159 projected
  arc A2 (7.7851, 3.937) -> (7.5311, 4.191) centre (7.5311, 3.937) ccw projected
  line L0 (-5.6261, 4.191) -> (7.5311, 4.191) projected
  arc A3 (-5.6261, 4.191) -> (-7.7851, 2.032) centre (-5.6261, 2.032) ccw projected
  line L1 (-7.7851, -2.032) -> (-7.7851, 2.032) projected
  arc A4 (-7.7851, -2.032) -> (-5.6261, -4.191) centre (-5.6261, -2.032) ccw projected
  line L2 (7.5311, -4.191) -> (-5.6261, -4.191) projected
  arc A5 (7.5311, -4.191) -> (7.7851, -3.937) centre (7.5311, -3.937) ccw projected
  line L3 (7.7851, 3.937) -> (7.7851, -3.937) projected
  arc A6 (-6.9851, -2.032) -> (-5.6261, -3.391) centre (-5.6261, -2.032) ccw
  line L4 (-6.9851, -2.032) -> (-6.9851, 2.032)
  arc A7 (-5.6261, 3.391) -> (-6.9851, 2.032) centre (-5.6261, 2.032) ccw
  line L5 (-5.6261, 3.391) -> (6.9851, 3.391)
  line L6 (6.9851, 3.391) -> (6.9851, -3.391)
  line L7 (6.9851, -3.391) -> (-5.6261, -3.391)
  point P0 (0, 0)
  dimension "d46" = 0.8
extrude "Extrusion13" cut sketch "Sketch13" against normal blind 0.8 contours L4 A7 L5 L6 L7 A6
fillet "Fillet5" radius 0.254 2 edges at (-6.9851, -3.391, 0.4) (-6.9851, 3.391, 0.4)
equation "\"d41\" = d40"
properties part number "XT-60"
